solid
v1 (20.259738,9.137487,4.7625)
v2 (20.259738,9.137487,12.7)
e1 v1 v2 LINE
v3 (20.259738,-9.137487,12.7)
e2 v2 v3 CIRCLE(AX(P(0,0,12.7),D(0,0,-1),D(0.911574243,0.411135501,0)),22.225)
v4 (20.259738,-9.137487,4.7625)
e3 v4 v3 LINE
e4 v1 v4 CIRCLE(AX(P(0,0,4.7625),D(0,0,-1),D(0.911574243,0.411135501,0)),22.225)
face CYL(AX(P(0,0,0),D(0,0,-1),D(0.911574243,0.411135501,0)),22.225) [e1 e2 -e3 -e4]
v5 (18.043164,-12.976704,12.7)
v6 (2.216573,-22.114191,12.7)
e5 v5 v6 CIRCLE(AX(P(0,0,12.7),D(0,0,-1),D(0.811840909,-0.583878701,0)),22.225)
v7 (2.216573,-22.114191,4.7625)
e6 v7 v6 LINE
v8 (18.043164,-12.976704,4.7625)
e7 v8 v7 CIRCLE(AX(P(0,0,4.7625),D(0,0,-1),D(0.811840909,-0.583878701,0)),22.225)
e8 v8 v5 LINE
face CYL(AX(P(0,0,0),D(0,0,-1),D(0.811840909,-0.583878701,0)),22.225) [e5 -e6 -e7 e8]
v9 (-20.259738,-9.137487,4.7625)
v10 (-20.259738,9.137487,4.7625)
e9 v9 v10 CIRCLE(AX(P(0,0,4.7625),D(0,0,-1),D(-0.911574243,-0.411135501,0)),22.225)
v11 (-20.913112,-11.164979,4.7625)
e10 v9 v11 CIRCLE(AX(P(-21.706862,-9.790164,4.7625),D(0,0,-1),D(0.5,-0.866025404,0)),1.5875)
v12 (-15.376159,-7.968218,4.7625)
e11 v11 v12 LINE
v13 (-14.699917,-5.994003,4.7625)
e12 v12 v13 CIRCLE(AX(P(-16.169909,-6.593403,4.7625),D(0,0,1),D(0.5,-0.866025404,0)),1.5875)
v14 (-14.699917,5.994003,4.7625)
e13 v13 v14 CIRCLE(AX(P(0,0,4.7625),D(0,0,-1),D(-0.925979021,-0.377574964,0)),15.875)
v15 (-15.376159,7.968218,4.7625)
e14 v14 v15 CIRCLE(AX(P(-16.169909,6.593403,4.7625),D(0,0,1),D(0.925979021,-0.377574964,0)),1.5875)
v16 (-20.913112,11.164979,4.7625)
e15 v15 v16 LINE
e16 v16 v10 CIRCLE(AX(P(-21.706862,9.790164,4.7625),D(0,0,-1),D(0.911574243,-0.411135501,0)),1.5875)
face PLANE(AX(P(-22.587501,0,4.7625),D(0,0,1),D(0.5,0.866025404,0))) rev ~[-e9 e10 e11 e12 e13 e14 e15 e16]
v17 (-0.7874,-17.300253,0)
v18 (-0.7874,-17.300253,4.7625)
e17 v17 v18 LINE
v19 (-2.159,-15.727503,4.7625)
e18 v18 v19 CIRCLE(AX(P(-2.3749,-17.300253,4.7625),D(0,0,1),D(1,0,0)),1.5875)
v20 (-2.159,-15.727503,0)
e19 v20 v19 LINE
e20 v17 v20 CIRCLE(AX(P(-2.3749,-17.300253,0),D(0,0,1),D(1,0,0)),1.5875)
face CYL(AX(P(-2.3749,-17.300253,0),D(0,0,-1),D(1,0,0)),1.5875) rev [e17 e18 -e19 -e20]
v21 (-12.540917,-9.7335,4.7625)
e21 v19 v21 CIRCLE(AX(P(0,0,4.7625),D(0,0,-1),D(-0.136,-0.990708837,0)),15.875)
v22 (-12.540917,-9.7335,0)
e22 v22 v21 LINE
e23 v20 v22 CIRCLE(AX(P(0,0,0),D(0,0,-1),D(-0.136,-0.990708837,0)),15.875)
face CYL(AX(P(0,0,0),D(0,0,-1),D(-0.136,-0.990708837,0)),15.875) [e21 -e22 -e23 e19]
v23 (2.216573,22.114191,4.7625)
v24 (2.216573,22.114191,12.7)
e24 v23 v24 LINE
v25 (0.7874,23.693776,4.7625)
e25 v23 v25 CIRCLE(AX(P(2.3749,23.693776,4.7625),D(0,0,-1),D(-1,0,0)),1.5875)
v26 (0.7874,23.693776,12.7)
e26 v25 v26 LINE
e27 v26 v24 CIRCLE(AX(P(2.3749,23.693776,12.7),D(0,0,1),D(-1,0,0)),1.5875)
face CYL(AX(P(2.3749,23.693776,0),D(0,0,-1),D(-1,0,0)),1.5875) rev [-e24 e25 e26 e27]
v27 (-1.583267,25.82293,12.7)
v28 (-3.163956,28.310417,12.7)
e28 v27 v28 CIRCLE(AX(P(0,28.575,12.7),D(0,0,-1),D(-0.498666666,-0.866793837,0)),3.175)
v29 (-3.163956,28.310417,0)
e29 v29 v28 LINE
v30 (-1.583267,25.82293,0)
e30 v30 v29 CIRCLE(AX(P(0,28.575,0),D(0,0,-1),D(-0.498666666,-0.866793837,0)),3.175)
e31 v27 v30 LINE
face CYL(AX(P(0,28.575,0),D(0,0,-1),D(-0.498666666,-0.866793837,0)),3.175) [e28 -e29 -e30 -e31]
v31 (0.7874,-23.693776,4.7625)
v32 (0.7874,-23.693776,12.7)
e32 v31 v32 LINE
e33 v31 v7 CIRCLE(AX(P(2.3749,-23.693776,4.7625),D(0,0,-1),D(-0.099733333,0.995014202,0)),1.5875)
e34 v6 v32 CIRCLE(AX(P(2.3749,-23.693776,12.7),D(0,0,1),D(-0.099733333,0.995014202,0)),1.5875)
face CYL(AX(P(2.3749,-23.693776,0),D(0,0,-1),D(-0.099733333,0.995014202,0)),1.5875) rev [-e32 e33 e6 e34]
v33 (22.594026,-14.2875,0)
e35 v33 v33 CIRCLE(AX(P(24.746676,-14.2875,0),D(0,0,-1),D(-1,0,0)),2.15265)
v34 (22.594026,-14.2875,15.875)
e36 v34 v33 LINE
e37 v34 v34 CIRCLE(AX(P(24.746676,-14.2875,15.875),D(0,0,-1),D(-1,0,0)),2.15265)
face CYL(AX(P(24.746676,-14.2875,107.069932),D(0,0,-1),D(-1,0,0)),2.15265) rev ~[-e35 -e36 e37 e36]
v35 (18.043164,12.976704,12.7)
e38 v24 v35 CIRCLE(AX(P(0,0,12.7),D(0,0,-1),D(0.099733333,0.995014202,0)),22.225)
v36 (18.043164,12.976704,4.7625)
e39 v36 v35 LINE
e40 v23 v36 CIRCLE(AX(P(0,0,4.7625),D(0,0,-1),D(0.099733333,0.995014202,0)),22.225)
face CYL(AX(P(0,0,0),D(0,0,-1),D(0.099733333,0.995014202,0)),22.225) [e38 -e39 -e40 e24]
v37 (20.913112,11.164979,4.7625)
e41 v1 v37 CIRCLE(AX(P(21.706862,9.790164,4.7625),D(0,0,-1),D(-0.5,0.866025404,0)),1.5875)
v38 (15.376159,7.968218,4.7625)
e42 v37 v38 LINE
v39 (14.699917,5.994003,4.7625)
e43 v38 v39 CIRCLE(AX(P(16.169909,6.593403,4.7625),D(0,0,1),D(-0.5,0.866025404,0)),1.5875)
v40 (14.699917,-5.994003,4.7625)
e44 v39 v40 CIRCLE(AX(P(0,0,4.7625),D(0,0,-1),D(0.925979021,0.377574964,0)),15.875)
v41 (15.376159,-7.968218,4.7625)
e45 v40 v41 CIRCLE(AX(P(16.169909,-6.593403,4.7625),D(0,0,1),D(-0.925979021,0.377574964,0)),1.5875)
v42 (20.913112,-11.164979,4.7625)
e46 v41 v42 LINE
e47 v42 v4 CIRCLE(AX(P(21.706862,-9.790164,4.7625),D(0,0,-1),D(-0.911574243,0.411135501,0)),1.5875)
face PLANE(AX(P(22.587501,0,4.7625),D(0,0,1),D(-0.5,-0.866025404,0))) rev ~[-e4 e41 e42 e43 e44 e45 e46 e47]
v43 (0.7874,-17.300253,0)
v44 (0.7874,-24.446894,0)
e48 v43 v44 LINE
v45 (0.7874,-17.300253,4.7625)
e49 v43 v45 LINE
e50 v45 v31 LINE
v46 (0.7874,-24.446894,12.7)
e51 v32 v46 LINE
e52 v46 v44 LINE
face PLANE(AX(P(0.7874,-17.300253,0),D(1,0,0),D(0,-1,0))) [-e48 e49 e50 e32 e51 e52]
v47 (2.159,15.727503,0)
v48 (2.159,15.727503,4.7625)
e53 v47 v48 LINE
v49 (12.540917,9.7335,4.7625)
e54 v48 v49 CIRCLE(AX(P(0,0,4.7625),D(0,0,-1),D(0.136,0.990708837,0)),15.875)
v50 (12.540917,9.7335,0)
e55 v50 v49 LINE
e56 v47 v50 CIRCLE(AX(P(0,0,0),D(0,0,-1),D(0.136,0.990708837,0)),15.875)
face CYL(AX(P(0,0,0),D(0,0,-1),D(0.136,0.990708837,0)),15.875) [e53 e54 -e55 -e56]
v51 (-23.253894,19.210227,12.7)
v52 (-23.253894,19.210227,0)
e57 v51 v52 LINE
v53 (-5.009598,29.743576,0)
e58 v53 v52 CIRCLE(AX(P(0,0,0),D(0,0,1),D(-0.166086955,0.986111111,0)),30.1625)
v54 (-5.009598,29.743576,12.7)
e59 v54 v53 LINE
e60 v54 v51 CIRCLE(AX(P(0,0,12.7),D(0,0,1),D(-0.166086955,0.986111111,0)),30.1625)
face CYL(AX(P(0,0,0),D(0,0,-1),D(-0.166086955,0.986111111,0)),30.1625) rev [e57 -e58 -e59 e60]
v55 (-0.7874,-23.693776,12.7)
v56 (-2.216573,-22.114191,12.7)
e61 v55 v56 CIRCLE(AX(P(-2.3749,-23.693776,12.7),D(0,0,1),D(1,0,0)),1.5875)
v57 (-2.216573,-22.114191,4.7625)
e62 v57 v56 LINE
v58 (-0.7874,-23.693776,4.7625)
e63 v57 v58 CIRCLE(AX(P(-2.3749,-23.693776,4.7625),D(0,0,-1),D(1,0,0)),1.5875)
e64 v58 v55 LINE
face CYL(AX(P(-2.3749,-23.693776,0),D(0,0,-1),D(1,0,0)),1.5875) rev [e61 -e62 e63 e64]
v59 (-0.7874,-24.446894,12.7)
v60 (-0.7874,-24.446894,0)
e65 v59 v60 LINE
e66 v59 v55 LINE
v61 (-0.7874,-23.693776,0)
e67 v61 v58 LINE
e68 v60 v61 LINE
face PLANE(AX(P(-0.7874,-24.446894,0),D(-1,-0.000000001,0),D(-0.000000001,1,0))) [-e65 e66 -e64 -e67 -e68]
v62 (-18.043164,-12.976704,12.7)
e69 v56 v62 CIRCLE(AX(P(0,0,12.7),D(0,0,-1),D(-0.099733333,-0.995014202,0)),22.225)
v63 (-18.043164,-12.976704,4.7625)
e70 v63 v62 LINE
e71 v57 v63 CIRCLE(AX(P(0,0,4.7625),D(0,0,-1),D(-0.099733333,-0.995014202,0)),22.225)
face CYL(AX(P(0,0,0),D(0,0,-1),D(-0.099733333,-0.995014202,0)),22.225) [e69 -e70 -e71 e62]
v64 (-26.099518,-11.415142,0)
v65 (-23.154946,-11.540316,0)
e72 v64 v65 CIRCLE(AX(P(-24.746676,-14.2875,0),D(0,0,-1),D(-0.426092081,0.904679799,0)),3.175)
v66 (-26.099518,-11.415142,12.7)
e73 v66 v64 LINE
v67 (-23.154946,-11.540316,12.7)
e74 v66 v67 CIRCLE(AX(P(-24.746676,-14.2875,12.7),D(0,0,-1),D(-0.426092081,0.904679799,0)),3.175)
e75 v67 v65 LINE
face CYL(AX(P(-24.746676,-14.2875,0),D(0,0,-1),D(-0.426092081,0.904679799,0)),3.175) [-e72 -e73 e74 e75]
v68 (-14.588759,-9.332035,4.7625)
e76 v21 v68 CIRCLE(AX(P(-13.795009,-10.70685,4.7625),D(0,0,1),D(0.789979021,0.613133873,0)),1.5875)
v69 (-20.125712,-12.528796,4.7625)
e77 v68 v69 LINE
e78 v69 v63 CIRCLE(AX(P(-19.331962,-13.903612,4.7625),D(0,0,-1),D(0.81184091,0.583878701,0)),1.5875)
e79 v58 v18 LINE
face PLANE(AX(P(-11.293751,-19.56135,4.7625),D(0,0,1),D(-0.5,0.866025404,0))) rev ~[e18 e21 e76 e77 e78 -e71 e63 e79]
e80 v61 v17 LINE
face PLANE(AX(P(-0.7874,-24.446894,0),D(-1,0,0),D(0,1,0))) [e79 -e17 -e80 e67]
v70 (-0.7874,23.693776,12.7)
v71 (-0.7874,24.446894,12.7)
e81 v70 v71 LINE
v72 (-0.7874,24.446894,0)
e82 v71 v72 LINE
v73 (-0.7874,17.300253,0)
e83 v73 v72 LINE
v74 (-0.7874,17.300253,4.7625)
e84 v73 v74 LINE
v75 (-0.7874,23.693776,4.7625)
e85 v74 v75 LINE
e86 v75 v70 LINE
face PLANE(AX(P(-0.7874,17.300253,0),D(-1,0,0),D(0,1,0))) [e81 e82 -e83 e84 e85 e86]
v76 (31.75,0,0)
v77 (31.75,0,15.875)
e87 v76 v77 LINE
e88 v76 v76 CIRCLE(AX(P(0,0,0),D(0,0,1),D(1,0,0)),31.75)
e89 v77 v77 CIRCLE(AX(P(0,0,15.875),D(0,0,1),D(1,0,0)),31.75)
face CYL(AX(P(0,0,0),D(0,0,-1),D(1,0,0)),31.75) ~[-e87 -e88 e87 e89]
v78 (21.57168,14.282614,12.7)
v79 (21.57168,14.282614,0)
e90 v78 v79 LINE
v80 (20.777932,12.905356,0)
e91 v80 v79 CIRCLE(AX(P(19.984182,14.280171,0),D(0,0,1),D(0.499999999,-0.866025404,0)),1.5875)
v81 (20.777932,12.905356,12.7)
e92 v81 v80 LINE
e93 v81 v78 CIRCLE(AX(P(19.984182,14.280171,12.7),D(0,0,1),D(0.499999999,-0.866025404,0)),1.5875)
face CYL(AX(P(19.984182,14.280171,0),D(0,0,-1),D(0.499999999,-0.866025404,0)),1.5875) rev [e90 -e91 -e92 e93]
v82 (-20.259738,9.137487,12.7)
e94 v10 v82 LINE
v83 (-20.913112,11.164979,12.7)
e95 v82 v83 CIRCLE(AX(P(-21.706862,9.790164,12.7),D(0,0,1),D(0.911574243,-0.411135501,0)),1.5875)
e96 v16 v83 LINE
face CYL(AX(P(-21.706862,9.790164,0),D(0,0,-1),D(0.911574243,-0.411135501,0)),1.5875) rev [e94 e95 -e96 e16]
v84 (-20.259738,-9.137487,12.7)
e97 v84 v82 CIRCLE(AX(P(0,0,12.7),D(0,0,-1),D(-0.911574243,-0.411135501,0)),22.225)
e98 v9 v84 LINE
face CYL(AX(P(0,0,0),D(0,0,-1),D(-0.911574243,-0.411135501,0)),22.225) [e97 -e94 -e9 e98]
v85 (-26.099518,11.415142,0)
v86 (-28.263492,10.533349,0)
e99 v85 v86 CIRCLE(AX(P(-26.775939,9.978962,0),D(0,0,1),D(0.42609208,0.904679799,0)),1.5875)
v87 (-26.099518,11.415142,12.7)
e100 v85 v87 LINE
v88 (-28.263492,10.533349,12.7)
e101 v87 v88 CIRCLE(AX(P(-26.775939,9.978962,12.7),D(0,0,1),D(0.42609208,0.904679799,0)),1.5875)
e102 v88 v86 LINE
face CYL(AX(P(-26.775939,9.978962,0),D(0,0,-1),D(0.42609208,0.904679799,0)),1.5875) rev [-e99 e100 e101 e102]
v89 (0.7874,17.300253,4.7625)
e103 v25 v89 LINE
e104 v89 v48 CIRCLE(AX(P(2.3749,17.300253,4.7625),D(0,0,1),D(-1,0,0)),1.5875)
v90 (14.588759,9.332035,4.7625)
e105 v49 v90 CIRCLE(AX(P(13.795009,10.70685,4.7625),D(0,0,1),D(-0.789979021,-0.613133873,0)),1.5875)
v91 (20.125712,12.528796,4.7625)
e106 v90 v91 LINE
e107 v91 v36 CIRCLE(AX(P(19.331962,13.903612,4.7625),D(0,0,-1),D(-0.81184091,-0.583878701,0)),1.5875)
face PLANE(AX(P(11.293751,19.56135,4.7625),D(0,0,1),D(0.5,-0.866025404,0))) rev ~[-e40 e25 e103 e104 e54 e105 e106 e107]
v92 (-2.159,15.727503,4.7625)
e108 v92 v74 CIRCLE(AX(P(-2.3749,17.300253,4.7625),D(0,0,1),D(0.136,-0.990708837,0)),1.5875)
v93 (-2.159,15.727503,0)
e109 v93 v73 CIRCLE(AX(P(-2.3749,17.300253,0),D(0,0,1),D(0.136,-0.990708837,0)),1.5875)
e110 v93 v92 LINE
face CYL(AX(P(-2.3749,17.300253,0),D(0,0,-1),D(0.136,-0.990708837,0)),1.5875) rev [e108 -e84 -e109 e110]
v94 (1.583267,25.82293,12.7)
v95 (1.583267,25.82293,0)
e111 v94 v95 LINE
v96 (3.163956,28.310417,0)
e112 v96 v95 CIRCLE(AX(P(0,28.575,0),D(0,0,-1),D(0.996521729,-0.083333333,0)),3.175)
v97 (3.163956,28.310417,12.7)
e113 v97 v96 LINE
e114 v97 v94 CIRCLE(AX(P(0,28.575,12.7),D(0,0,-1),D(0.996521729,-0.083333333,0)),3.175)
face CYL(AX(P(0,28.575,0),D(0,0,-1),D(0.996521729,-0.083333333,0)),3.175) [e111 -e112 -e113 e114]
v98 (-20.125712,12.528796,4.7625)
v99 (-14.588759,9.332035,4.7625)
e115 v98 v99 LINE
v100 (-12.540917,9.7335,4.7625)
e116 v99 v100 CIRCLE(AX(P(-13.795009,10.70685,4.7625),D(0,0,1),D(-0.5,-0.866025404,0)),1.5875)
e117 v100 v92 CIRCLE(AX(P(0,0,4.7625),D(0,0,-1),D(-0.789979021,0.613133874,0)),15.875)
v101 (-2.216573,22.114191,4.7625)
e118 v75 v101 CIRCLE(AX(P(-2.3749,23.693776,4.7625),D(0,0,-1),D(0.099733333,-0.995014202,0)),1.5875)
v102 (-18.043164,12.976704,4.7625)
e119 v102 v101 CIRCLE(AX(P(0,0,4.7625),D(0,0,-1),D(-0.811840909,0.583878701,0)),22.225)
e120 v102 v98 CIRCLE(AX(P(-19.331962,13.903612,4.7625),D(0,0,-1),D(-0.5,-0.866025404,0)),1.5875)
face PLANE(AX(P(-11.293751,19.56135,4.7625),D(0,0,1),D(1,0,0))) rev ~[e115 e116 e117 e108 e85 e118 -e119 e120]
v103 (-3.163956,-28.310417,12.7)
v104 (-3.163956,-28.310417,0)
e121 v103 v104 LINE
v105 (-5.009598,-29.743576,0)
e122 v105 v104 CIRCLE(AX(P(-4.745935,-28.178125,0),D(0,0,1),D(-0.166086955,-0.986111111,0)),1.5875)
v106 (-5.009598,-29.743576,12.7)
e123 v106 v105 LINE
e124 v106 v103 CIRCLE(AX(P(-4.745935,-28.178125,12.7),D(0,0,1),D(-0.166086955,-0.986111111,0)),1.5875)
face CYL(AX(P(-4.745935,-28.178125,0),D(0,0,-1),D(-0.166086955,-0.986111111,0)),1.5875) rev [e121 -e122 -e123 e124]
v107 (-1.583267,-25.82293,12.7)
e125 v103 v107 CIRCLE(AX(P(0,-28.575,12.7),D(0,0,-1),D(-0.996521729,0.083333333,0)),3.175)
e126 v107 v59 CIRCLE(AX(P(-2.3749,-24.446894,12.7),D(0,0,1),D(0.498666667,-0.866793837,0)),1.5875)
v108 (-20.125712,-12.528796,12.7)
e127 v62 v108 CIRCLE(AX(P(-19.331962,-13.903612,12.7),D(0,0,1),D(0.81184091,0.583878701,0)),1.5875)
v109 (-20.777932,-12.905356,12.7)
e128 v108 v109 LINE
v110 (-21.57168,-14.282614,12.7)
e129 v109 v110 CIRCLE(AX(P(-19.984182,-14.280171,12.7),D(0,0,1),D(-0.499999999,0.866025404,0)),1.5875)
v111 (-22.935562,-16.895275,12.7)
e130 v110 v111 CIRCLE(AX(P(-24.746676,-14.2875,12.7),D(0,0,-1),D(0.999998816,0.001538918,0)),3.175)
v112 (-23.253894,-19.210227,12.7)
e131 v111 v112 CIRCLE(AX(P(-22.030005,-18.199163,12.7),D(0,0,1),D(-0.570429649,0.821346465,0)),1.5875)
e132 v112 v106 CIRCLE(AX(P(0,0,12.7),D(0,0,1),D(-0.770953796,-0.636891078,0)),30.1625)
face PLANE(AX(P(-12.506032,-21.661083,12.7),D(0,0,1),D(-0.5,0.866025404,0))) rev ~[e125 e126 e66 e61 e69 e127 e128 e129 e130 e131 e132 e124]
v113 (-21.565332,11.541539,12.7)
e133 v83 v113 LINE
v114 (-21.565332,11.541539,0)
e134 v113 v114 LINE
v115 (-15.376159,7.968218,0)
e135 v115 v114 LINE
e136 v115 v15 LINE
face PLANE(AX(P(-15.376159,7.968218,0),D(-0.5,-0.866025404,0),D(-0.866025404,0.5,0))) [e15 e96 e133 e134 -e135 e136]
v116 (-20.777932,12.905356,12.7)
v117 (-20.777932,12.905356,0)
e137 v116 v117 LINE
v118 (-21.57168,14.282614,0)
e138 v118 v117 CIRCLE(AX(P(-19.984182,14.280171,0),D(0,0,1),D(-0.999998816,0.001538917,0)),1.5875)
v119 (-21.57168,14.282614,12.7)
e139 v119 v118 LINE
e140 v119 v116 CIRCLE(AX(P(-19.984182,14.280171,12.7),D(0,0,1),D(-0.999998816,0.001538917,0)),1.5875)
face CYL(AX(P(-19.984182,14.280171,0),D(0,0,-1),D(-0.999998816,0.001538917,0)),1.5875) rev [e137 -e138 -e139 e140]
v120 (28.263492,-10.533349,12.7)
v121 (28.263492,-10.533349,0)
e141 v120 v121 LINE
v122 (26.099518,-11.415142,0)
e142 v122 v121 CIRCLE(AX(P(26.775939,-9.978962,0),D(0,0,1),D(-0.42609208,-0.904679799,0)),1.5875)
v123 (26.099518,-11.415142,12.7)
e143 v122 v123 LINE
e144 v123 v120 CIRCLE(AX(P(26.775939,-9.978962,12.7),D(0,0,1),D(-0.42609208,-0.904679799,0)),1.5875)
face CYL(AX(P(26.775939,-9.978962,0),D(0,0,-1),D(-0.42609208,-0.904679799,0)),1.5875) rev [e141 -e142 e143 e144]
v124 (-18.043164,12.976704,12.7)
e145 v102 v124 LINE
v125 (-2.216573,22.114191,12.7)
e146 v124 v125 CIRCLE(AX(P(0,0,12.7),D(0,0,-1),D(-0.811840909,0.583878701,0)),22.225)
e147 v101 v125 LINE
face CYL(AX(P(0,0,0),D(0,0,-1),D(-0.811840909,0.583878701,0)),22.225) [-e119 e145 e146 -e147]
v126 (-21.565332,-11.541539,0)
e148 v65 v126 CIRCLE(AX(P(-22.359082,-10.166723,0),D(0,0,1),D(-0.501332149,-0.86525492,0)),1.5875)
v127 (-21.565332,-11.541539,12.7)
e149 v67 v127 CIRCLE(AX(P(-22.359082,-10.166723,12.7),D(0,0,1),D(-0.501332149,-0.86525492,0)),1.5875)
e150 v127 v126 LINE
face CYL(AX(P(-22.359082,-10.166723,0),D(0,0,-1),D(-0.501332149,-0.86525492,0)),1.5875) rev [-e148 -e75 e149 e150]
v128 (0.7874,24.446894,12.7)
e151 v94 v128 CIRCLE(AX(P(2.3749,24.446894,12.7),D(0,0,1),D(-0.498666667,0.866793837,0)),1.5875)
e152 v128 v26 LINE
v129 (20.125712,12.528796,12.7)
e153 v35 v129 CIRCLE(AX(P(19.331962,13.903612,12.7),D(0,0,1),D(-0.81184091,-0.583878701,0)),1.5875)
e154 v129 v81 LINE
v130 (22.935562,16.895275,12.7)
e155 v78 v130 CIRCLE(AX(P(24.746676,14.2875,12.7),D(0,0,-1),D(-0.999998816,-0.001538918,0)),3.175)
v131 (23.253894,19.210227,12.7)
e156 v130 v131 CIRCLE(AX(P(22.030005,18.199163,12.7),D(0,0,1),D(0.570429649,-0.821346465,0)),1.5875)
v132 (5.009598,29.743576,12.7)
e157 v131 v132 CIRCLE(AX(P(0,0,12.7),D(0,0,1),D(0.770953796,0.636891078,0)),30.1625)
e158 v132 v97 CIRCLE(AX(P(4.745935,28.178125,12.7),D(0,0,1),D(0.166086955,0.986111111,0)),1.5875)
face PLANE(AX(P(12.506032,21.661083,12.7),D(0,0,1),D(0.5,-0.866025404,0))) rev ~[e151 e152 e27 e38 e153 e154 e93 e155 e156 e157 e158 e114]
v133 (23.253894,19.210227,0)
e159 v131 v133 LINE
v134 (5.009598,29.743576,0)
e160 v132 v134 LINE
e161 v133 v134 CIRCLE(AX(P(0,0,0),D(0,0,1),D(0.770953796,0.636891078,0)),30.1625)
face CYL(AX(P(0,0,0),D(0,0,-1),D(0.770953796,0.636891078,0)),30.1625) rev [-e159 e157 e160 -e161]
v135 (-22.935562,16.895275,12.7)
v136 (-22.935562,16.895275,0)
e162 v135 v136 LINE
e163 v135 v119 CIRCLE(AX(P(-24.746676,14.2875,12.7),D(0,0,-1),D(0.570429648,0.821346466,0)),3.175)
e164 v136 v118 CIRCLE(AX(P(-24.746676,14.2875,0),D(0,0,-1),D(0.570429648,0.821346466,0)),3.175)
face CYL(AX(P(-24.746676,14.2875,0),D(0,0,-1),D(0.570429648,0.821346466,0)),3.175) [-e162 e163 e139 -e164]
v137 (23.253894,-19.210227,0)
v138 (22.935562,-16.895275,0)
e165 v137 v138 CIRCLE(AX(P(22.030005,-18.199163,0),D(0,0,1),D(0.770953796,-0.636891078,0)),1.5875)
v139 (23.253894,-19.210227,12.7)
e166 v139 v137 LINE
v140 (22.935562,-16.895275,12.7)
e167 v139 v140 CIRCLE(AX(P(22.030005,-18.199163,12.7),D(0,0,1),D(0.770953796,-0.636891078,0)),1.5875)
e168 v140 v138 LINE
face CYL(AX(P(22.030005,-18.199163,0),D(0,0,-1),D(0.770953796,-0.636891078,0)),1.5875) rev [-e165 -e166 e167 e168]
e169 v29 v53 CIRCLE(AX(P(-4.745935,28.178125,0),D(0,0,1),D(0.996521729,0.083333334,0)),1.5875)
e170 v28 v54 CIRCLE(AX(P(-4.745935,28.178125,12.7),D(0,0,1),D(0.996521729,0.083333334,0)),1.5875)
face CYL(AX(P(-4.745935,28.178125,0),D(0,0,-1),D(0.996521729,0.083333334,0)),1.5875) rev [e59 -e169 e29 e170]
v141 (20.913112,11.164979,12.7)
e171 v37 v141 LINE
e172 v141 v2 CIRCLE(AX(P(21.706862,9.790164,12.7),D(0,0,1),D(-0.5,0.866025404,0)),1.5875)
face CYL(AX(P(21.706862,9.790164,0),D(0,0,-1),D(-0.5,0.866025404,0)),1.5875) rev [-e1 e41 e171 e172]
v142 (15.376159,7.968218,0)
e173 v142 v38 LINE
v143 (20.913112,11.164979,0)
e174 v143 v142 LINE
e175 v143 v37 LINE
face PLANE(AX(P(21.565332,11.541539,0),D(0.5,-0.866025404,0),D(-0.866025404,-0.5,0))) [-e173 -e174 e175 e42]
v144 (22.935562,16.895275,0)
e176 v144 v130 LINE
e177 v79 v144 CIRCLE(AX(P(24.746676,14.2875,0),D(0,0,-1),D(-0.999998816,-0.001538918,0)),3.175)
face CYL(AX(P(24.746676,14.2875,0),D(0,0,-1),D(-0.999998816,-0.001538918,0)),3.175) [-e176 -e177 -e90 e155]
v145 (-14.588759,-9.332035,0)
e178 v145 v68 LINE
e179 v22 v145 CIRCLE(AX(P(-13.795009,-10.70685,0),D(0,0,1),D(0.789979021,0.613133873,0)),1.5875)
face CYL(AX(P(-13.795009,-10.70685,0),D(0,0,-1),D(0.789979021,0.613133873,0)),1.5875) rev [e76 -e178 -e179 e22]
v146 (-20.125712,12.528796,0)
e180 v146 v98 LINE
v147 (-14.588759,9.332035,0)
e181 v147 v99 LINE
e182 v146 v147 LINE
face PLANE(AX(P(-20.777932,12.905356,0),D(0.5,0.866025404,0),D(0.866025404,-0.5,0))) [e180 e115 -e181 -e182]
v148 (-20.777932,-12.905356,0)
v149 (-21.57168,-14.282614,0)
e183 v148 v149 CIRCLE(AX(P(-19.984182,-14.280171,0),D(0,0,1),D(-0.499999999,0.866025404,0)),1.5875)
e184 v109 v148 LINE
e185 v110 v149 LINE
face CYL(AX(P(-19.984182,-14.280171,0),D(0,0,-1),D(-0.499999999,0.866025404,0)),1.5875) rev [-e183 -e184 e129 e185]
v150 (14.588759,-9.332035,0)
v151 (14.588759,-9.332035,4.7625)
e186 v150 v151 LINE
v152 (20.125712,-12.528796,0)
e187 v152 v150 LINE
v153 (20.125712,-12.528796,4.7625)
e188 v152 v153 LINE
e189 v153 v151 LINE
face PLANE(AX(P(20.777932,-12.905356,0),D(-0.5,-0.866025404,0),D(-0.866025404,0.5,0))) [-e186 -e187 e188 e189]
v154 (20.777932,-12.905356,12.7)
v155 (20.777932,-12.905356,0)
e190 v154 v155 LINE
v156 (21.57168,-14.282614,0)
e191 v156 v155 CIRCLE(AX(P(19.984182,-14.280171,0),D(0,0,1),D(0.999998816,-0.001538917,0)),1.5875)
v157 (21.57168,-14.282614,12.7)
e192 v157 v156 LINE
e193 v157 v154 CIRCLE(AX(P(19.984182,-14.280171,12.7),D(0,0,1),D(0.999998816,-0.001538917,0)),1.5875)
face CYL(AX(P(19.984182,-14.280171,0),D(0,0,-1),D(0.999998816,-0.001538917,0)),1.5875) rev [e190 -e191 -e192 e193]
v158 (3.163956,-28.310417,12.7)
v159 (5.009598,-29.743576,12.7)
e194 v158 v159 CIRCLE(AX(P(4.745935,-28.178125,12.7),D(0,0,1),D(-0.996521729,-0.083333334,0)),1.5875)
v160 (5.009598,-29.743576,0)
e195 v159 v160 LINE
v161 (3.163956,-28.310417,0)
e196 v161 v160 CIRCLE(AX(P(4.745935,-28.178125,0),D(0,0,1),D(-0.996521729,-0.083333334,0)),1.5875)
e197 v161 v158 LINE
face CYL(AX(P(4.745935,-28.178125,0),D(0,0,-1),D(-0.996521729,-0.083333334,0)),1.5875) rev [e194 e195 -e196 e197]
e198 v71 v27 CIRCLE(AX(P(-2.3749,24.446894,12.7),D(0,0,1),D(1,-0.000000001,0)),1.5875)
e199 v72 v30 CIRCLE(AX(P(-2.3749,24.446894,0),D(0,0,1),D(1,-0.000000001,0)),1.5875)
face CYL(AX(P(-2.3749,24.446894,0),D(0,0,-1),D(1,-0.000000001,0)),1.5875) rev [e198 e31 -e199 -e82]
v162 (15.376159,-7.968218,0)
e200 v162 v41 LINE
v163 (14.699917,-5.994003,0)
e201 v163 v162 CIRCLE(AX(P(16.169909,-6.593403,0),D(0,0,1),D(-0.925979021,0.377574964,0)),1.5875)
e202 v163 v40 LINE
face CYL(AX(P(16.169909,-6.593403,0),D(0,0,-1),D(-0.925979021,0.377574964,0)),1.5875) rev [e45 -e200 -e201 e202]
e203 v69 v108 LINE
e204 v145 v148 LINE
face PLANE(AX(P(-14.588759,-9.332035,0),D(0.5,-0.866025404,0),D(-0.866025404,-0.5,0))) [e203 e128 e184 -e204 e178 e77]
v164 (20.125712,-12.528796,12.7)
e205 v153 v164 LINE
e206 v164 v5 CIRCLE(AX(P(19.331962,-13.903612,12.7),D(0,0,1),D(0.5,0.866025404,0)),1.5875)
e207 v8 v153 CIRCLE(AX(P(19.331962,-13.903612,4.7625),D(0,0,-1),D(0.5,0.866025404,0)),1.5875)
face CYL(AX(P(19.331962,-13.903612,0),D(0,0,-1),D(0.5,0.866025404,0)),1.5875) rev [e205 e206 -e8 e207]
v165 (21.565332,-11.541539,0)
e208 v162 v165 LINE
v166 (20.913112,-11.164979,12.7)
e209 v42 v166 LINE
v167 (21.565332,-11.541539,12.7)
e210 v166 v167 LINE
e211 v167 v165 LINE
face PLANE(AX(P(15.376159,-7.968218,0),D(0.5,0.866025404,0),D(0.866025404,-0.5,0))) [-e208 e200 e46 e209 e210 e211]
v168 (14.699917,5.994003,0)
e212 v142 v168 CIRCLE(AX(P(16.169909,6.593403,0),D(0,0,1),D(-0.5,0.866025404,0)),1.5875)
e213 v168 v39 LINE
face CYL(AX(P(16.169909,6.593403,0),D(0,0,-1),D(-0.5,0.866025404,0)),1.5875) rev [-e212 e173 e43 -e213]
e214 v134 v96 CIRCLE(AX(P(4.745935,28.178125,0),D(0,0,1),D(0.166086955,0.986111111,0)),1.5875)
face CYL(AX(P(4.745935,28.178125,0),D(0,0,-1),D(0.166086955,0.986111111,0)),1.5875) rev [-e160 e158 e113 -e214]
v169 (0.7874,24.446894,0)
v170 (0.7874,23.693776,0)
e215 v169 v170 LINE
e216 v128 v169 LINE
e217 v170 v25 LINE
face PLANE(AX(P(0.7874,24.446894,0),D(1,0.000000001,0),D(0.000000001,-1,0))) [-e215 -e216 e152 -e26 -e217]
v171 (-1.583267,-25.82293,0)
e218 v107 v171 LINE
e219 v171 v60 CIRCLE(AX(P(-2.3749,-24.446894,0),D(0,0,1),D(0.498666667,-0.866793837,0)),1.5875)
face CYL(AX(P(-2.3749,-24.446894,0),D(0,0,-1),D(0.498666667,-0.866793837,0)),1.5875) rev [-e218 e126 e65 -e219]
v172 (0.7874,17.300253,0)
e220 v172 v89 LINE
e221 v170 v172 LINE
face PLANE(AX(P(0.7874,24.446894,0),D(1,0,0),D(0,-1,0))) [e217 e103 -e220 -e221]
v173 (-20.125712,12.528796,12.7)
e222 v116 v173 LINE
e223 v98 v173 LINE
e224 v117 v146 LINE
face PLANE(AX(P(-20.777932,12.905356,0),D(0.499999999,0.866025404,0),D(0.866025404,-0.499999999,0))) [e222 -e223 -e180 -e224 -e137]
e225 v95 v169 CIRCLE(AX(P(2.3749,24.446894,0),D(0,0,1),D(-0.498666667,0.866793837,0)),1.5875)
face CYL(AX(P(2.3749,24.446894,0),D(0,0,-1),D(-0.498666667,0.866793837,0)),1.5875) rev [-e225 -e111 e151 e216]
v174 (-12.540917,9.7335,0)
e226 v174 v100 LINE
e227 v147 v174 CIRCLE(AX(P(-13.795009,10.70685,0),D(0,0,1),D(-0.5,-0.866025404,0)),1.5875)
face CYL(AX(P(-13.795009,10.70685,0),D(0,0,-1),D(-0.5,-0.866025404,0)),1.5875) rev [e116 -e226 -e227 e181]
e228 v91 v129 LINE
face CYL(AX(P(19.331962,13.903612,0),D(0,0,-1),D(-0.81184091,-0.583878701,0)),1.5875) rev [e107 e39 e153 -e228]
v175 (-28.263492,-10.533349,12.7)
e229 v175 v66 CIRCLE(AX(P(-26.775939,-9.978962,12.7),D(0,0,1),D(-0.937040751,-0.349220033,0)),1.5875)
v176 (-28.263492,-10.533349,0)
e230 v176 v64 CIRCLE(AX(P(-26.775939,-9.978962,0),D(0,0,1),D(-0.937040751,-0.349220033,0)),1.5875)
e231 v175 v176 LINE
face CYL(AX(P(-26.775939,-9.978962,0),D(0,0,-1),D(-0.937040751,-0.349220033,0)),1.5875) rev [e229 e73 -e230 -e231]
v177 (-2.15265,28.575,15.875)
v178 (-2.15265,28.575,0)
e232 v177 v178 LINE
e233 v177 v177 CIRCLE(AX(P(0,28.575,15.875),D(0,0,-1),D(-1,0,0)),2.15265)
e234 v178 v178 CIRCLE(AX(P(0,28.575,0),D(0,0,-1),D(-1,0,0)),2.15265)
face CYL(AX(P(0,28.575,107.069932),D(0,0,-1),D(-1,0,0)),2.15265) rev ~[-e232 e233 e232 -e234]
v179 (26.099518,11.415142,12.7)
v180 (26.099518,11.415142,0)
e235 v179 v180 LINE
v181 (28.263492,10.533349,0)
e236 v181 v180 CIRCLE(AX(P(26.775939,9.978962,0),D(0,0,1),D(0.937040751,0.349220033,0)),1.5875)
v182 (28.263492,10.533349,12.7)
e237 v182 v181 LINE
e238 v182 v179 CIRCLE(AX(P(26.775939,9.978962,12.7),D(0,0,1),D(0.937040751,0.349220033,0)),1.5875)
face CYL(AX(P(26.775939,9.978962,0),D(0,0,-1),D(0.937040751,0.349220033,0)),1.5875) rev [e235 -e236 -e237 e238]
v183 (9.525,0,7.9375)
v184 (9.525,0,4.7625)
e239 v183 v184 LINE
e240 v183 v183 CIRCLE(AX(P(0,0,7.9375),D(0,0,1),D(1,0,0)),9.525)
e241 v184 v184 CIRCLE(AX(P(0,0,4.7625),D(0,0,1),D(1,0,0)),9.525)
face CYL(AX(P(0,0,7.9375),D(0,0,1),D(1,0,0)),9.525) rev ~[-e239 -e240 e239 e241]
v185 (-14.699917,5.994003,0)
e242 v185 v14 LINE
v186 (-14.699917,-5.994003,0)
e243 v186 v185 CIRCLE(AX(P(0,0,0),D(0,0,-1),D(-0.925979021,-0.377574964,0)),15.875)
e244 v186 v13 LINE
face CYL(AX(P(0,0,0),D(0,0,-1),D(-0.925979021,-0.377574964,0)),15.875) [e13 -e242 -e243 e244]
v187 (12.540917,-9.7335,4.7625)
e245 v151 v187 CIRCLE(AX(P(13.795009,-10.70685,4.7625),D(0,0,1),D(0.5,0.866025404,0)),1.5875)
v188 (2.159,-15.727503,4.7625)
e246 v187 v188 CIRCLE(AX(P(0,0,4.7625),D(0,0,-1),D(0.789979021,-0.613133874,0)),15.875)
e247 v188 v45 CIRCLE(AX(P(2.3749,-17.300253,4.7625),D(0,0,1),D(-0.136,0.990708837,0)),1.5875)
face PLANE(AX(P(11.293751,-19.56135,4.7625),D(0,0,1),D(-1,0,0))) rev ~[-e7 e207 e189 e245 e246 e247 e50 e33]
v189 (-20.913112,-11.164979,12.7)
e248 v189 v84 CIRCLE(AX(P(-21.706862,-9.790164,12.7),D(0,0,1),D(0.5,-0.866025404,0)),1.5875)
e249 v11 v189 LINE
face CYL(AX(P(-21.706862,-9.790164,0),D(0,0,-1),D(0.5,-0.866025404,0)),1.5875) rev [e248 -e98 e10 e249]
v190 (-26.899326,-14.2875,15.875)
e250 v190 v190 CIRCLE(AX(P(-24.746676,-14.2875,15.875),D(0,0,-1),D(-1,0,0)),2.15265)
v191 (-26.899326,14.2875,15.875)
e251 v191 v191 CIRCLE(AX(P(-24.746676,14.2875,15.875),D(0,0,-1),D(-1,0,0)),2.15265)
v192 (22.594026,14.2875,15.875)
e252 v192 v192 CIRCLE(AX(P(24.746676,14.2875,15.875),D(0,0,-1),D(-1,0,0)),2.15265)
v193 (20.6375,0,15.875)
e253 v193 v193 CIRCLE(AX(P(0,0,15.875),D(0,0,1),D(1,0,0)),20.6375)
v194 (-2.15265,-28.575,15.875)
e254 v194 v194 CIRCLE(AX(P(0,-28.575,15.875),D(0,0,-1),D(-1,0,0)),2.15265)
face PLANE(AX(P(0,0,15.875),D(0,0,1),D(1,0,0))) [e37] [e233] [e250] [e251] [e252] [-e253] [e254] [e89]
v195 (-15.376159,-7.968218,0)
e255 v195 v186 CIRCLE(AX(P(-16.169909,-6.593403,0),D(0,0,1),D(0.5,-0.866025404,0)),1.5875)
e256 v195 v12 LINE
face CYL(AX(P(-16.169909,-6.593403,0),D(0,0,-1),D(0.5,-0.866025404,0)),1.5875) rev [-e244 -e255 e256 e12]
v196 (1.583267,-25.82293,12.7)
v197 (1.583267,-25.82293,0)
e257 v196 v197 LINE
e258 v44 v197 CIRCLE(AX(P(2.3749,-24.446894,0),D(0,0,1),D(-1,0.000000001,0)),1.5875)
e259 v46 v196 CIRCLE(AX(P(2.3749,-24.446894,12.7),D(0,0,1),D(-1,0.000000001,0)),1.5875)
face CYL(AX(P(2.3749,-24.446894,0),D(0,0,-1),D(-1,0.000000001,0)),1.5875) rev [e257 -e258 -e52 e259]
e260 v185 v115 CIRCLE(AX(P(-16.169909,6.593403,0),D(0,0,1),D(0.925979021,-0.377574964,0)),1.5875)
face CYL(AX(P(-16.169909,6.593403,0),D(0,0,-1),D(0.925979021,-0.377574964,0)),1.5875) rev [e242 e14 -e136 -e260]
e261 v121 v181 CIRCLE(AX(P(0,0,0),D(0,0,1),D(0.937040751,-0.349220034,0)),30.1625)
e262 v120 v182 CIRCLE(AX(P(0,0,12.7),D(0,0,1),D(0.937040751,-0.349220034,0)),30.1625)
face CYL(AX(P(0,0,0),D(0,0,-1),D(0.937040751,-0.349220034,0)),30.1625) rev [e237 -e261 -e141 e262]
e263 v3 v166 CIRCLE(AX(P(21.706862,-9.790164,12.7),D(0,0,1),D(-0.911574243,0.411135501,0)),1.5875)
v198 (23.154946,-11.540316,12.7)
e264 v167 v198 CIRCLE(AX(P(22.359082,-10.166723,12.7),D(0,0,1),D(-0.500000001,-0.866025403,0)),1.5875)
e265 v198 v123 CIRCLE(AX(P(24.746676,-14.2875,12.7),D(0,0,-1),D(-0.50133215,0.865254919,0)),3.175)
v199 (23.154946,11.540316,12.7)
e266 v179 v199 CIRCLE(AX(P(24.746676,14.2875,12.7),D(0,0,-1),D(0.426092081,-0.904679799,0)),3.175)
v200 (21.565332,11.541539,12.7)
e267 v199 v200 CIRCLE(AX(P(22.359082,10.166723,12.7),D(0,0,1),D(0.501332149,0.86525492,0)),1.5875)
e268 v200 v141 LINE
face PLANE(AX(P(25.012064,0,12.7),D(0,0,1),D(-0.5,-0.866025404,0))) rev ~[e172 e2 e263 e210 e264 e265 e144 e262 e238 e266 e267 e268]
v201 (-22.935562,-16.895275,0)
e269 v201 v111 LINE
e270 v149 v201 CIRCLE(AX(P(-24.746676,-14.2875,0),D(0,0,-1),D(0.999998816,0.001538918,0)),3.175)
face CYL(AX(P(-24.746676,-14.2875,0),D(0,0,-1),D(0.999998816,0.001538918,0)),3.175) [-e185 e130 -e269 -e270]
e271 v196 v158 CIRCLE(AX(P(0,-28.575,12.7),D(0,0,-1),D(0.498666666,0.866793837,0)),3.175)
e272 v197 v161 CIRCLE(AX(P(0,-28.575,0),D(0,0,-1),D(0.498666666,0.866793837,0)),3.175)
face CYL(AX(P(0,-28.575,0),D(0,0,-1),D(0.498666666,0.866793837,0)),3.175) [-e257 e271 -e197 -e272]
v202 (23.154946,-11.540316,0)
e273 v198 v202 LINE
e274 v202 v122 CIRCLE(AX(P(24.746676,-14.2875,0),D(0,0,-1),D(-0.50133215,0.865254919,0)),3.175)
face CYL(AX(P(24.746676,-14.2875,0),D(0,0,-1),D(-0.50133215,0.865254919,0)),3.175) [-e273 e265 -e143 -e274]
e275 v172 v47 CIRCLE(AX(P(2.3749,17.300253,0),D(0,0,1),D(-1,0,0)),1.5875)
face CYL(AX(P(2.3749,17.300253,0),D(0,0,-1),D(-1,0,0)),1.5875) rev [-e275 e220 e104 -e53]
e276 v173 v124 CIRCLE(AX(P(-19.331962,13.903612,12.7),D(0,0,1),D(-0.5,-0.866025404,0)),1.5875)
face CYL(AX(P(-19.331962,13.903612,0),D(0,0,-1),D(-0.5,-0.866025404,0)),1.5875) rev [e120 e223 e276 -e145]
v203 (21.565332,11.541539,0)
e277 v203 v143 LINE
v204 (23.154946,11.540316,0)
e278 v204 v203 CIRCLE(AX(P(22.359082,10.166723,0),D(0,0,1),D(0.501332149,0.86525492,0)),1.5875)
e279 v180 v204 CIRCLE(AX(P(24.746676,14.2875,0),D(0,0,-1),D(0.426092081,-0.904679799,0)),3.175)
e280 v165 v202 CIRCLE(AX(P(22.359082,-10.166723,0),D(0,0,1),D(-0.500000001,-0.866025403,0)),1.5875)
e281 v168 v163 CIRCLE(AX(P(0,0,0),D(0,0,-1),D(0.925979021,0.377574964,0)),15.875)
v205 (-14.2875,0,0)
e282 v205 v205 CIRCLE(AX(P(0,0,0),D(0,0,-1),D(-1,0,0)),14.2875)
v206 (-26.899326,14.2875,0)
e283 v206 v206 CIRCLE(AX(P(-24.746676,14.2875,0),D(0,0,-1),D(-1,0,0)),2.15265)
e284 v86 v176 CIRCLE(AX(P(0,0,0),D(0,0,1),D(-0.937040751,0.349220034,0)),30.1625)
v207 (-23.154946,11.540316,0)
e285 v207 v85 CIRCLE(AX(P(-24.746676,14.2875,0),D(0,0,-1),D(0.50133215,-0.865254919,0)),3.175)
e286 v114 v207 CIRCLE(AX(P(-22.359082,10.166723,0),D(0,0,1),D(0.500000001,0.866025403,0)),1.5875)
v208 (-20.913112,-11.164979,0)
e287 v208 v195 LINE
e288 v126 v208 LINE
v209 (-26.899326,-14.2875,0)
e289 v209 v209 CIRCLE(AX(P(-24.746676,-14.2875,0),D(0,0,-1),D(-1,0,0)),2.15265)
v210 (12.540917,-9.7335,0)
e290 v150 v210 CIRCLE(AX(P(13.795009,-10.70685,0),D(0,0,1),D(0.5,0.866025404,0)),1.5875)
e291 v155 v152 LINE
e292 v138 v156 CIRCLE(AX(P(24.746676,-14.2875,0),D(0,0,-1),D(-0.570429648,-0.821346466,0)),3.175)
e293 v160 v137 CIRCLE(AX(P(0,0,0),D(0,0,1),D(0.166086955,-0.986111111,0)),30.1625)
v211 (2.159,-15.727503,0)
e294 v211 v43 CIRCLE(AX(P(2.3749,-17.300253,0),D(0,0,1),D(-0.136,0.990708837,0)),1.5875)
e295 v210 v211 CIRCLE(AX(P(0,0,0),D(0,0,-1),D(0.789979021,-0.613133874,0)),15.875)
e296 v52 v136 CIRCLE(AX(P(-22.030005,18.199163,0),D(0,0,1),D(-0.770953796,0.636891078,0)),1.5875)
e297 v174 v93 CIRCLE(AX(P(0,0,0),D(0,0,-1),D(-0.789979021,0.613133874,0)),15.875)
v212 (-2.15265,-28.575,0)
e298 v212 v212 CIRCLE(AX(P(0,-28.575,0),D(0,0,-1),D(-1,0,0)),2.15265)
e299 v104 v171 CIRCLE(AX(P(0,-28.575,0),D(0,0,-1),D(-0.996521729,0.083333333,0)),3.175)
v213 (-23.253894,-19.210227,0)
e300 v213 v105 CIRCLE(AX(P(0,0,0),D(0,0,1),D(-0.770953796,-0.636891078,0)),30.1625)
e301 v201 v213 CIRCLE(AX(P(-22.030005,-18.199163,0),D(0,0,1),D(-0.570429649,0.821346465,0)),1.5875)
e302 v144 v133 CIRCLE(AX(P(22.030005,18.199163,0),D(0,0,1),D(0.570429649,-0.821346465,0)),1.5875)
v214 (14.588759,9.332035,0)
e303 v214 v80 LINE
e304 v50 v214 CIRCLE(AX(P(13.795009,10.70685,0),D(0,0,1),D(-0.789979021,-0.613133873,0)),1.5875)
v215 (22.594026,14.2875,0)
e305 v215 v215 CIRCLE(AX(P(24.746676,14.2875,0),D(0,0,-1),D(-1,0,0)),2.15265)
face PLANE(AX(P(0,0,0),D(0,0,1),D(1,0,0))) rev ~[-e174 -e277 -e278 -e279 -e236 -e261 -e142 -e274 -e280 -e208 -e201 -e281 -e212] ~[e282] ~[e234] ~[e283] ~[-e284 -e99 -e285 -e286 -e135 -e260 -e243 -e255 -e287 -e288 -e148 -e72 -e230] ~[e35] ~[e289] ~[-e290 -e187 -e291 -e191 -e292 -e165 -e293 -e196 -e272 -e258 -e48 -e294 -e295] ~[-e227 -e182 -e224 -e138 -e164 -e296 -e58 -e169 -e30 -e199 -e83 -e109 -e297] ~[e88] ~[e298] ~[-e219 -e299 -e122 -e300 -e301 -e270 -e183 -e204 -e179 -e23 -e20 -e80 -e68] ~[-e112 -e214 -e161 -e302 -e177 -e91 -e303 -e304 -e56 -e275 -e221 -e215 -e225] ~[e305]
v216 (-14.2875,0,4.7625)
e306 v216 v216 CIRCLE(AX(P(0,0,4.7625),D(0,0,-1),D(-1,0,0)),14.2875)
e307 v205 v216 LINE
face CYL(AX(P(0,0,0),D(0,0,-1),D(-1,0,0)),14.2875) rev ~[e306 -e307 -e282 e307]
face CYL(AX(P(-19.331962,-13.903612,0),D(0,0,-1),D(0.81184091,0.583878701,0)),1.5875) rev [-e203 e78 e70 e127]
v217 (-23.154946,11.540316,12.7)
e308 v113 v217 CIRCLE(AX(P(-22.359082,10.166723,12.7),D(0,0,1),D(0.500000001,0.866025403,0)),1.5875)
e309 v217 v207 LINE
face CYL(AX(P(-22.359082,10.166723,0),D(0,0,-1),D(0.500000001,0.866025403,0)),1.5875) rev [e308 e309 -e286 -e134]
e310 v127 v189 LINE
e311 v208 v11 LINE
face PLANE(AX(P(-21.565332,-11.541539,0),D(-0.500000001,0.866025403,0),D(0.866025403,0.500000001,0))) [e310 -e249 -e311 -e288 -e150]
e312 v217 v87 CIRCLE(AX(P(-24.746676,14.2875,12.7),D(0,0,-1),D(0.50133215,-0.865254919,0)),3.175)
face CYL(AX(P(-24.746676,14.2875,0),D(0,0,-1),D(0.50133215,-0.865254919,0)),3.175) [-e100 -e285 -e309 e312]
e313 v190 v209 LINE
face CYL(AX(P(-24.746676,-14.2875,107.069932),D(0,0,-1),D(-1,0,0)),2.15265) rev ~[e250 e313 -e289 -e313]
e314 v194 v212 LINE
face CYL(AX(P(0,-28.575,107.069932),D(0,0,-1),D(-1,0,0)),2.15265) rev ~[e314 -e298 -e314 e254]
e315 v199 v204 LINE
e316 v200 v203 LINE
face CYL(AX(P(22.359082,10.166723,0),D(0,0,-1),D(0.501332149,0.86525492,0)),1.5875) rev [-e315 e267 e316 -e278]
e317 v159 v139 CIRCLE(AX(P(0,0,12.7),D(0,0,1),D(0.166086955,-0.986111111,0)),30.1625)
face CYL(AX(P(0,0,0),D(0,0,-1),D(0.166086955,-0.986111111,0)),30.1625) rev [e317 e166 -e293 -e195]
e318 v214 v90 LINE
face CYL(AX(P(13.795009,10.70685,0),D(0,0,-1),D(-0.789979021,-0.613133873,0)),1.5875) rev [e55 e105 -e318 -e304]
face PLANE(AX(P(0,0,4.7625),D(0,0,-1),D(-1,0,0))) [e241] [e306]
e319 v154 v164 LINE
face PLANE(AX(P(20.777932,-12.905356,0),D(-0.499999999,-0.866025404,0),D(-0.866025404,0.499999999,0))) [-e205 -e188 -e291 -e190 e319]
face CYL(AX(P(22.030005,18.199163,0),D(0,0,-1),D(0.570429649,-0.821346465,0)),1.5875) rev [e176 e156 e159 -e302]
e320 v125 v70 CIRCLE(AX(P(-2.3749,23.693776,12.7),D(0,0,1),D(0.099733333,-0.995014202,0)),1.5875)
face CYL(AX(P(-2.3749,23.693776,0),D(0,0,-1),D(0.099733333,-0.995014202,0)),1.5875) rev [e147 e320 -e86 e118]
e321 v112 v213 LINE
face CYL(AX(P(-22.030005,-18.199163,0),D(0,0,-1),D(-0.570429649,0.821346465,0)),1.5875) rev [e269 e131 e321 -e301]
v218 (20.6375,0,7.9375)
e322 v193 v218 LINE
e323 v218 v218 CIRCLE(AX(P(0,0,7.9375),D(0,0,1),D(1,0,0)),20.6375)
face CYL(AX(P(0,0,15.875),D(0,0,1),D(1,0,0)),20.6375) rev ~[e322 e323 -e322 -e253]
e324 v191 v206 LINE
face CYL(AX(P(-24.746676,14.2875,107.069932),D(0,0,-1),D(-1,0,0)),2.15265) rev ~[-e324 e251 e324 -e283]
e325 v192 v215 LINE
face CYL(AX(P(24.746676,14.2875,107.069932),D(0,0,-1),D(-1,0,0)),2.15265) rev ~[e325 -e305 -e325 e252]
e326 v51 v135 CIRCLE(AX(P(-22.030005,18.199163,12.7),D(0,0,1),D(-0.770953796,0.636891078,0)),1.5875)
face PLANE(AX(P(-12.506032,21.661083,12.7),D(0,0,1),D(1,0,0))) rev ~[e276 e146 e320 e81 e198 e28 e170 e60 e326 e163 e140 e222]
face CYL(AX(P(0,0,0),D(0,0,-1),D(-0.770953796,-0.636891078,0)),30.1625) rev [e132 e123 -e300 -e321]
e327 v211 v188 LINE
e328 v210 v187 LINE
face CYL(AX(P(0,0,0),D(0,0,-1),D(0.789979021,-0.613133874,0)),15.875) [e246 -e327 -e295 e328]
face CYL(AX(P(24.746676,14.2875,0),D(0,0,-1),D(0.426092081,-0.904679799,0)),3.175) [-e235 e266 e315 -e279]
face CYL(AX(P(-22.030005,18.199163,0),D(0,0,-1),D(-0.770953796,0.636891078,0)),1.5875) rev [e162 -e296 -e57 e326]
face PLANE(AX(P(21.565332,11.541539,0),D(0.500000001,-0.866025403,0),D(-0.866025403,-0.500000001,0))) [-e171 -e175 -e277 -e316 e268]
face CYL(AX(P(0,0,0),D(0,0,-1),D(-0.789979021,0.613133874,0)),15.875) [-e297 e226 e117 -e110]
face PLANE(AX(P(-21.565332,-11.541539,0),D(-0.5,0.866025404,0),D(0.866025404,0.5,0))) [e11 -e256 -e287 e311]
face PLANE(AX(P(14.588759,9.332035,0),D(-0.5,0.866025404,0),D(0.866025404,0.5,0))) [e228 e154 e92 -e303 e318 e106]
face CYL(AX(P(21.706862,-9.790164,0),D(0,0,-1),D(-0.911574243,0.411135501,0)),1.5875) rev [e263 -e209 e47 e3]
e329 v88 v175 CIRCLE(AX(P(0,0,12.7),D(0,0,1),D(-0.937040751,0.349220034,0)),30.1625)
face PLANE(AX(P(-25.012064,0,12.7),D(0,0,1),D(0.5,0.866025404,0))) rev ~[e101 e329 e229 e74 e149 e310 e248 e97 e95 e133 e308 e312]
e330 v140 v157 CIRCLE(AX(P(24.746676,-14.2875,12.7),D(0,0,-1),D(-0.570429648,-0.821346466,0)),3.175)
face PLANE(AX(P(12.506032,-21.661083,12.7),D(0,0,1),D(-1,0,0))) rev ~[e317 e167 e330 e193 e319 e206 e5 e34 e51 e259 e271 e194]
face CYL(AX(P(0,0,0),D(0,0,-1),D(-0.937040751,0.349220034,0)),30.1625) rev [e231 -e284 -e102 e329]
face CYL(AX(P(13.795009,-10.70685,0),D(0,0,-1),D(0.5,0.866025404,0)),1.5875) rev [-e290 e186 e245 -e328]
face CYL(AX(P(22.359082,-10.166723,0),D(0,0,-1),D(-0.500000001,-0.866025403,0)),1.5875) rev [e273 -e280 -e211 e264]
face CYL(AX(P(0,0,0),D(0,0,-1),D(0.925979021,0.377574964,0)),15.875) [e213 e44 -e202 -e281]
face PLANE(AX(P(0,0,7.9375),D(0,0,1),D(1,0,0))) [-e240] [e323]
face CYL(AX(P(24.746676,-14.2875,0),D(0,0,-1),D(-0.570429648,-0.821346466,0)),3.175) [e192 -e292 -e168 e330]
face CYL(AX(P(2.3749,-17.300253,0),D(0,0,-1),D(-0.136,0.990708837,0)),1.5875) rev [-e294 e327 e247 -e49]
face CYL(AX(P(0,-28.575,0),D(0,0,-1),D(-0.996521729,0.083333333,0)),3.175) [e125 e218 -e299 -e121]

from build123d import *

# Parameters (mm, degrees)
SKETCH1_R             = 31.75
BOSS_EXTRUDE1_DEPTH   = 15.875
SKETCH2_R             = 20.6375
CUT_EXTRUDE1_DEPTH    = 7.9375
SKETCH3_R             = 14.2875
CUT_EXTRUDE2_DEPTH    = 4.7625
SKETCH4_R             = 9.525
CUT_EXTRUDE3_DEPTH    = 46.597466007
F_8_CLEARANCE_HOLE1_D = 4.3053
CUT_EXTRUDE4_DEPTH    = 12.7
CIRPATTERN1_COUNT     = 6
CUT_EXTRUDE5_DEPTH    = 4.7625
CIRPATTERN2_COUNT     = 6


with BuildPart() as part:
    # Sketch1 → Boss-Extrude1 (new body)
    with BuildSketch(Plane.XY):
        Circle(SKETCH1_R)
    extrude(amount=BOSS_EXTRUDE1_DEPTH)

    # Sketch2 → Cut-Extrude1 (cut)
    with BuildSketch(Plane.XY.offset(15.875)):
        Circle(SKETCH2_R)
    extrude(amount=-CUT_EXTRUDE1_DEPTH, mode=Mode.SUBTRACT)

    # Sketch3 → Cut-Extrude2 (cut)
    with BuildSketch(Plane(origin=(0, 0, 0), x_dir=(-1, 0, 0), z_dir=(0, 0, -1))):
        Circle(SKETCH3_R)
    extrude(amount=-CUT_EXTRUDE2_DEPTH, mode=Mode.SUBTRACT)

    # Sketch4 → Cut-Extrude3 (cut, through all)
    with BuildSketch(Plane.XY.offset(7.9375)):
        Circle(SKETCH4_R)
    extrude(amount=-CUT_EXTRUDE3_DEPTH, mode=Mode.SUBTRACT)

    # #8 Clearance Hole1 (through all)
    with Locations(Plane.XY.offset(15.875)):
        with Locations((0, 28.575), (24.746675913, 14.2875), (24.746675913, -14.2875), (0, -28.575), (-24.746675913, -14.2875), (-24.746675913, 14.2875)):
            Hole(F_8_CLEARANCE_HOLE1_D / 2)

    # Sketch8 → Cut-Extrude4 (cut)
    with BuildSketch(Plane(origin=(0, 0, 0), x_dir=(-1, 0, 0), z_dir=(0, 0, -1))):
        with BuildLine():
            ThreePointArc((3.163956488, 28.310416667), (3.772294429, 29.431991344), (5.009597773, 29.743576389))
            ThreePointArc((5.009597773, 29.743576389), (15.08125, 26.121491242), (23.253893866, 19.210227129))
            ThreePointArc((23.253893866, 19.210227129), (23.602704974, 17.982898478), (22.935561781, 16.895275029))
            ThreePointArc((22.935561781, 16.895275029), (21.932102472, 15.756785998), (21.571679673, 14.282613938))
            ThreePointArc((21.571679673, 14.282613938), (21.359607232, 13.487479006), (20.777931553, 12.905355579))
            Line((20.777931553, 12.905355579), (20.125711655, 12.528796246))
            ThreePointArc((20.125711655, 12.528796246), (18.998160274, 12.351602268), (18.043164212, 12.976704136))
            ThreePointArc((18.043164212, 12.976704136), (11.1125, 19.247414599), (2.216573333, 22.11419064))
            ThreePointArc((2.216573333, 22.11419064), (1.197721204, 22.628690556), (0.7874, 23.693775686))
            Line((0.7874, 23.693775686), (0.7874, 24.446894352))
            ThreePointArc((0.7874, 24.446894352), (1.000695836, 25.241701981), (1.583266667, 25.822929568))
            ThreePointArc((1.583266667, 25.822929568), (2.679725721, 26.872150898), (3.163956488, 28.310416667))
        make_face()
    cut_extrude4 = extrude(amount=-CUT_EXTRUDE4_DEPTH, mode=Mode.SUBTRACT)

    # CirPattern1: Cut-Extrude4 ×6 about axis
    cirpattern1_axis = Axis((0, 0, 0), (0, 0, 1))
    for i in range(1, CIRPATTERN1_COUNT):
        add(cut_extrude4.rotate(cirpattern1_axis, i * 360 / CIRPATTERN1_COUNT), mode=Mode.SUBTRACT)

    # Sketch9 → Cut-Extrude5 (cut)
    with BuildSketch(Plane(origin=(0, 0, 0), x_dir=(-1, 0, 0), z_dir=(0, 0, -1))):
        with BuildLine():
            ThreePointArc((3.163956488, 28.310416667), (3.772294429, 29.431991344), (5.009597773, 29.743576389))
            ThreePointArc((5.009597773, 29.743576389), (15.08125, 26.121491242), (23.253893866, 19.210227129))
            ThreePointArc((23.253893866, 19.210227129), (23.602704974, 17.982898478), (22.935561781, 16.895275029))
            ThreePointArc((22.935561781, 16.895275029), (21.932102472, 15.756785998), (21.571679673, 14.282613938))
            ThreePointArc((21.571679673, 14.282613938), (21.359607232, 13.487479006), (20.777931553, 12.905355579))
            Line((20.777931553, 12.905355579), (14.588758649, 9.332034937))
            ThreePointArc((14.588758649, 9.332034937), (13.489603645, 9.149004306), (12.540916954, 9.733500242))
            ThreePointArc((12.540916954, 9.733500242), (7.9375, 13.748153285), (2.159, 15.72750279))
            ThreePointArc((2.159, 15.72750279), (1.178468326, 16.256841597), (0.7874, 17.300253069))
            Line((0.7874, 17.300253069), (0.7874, 24.446894352))
            ThreePointArc((0.7874, 24.446894352), (1.000695836, 25.241701981), (1.583266667, 25.822929568))
            ThreePointArc((1.583266667, 25.822929568), (2.679725721, 26.872150898), (3.163956488, 28.310416667))
        make_face()
    cut_extrude5 = extrude(amount=-CUT_EXTRUDE5_DEPTH, mode=Mode.SUBTRACT)

    # CirPattern2: Cut-Extrude5 ×6 about axis
    cirpattern2_axis = Axis((0, 0, 0), (0, 0, 1))
    for i in range(1, CIRPATTERN2_COUNT):
        add(cut_extrude5.rotate(cirpattern2_axis, i * 360 / CIRPATTERN2_COUNT), mode=Mode.SUBTRACT)


solid = part.part
